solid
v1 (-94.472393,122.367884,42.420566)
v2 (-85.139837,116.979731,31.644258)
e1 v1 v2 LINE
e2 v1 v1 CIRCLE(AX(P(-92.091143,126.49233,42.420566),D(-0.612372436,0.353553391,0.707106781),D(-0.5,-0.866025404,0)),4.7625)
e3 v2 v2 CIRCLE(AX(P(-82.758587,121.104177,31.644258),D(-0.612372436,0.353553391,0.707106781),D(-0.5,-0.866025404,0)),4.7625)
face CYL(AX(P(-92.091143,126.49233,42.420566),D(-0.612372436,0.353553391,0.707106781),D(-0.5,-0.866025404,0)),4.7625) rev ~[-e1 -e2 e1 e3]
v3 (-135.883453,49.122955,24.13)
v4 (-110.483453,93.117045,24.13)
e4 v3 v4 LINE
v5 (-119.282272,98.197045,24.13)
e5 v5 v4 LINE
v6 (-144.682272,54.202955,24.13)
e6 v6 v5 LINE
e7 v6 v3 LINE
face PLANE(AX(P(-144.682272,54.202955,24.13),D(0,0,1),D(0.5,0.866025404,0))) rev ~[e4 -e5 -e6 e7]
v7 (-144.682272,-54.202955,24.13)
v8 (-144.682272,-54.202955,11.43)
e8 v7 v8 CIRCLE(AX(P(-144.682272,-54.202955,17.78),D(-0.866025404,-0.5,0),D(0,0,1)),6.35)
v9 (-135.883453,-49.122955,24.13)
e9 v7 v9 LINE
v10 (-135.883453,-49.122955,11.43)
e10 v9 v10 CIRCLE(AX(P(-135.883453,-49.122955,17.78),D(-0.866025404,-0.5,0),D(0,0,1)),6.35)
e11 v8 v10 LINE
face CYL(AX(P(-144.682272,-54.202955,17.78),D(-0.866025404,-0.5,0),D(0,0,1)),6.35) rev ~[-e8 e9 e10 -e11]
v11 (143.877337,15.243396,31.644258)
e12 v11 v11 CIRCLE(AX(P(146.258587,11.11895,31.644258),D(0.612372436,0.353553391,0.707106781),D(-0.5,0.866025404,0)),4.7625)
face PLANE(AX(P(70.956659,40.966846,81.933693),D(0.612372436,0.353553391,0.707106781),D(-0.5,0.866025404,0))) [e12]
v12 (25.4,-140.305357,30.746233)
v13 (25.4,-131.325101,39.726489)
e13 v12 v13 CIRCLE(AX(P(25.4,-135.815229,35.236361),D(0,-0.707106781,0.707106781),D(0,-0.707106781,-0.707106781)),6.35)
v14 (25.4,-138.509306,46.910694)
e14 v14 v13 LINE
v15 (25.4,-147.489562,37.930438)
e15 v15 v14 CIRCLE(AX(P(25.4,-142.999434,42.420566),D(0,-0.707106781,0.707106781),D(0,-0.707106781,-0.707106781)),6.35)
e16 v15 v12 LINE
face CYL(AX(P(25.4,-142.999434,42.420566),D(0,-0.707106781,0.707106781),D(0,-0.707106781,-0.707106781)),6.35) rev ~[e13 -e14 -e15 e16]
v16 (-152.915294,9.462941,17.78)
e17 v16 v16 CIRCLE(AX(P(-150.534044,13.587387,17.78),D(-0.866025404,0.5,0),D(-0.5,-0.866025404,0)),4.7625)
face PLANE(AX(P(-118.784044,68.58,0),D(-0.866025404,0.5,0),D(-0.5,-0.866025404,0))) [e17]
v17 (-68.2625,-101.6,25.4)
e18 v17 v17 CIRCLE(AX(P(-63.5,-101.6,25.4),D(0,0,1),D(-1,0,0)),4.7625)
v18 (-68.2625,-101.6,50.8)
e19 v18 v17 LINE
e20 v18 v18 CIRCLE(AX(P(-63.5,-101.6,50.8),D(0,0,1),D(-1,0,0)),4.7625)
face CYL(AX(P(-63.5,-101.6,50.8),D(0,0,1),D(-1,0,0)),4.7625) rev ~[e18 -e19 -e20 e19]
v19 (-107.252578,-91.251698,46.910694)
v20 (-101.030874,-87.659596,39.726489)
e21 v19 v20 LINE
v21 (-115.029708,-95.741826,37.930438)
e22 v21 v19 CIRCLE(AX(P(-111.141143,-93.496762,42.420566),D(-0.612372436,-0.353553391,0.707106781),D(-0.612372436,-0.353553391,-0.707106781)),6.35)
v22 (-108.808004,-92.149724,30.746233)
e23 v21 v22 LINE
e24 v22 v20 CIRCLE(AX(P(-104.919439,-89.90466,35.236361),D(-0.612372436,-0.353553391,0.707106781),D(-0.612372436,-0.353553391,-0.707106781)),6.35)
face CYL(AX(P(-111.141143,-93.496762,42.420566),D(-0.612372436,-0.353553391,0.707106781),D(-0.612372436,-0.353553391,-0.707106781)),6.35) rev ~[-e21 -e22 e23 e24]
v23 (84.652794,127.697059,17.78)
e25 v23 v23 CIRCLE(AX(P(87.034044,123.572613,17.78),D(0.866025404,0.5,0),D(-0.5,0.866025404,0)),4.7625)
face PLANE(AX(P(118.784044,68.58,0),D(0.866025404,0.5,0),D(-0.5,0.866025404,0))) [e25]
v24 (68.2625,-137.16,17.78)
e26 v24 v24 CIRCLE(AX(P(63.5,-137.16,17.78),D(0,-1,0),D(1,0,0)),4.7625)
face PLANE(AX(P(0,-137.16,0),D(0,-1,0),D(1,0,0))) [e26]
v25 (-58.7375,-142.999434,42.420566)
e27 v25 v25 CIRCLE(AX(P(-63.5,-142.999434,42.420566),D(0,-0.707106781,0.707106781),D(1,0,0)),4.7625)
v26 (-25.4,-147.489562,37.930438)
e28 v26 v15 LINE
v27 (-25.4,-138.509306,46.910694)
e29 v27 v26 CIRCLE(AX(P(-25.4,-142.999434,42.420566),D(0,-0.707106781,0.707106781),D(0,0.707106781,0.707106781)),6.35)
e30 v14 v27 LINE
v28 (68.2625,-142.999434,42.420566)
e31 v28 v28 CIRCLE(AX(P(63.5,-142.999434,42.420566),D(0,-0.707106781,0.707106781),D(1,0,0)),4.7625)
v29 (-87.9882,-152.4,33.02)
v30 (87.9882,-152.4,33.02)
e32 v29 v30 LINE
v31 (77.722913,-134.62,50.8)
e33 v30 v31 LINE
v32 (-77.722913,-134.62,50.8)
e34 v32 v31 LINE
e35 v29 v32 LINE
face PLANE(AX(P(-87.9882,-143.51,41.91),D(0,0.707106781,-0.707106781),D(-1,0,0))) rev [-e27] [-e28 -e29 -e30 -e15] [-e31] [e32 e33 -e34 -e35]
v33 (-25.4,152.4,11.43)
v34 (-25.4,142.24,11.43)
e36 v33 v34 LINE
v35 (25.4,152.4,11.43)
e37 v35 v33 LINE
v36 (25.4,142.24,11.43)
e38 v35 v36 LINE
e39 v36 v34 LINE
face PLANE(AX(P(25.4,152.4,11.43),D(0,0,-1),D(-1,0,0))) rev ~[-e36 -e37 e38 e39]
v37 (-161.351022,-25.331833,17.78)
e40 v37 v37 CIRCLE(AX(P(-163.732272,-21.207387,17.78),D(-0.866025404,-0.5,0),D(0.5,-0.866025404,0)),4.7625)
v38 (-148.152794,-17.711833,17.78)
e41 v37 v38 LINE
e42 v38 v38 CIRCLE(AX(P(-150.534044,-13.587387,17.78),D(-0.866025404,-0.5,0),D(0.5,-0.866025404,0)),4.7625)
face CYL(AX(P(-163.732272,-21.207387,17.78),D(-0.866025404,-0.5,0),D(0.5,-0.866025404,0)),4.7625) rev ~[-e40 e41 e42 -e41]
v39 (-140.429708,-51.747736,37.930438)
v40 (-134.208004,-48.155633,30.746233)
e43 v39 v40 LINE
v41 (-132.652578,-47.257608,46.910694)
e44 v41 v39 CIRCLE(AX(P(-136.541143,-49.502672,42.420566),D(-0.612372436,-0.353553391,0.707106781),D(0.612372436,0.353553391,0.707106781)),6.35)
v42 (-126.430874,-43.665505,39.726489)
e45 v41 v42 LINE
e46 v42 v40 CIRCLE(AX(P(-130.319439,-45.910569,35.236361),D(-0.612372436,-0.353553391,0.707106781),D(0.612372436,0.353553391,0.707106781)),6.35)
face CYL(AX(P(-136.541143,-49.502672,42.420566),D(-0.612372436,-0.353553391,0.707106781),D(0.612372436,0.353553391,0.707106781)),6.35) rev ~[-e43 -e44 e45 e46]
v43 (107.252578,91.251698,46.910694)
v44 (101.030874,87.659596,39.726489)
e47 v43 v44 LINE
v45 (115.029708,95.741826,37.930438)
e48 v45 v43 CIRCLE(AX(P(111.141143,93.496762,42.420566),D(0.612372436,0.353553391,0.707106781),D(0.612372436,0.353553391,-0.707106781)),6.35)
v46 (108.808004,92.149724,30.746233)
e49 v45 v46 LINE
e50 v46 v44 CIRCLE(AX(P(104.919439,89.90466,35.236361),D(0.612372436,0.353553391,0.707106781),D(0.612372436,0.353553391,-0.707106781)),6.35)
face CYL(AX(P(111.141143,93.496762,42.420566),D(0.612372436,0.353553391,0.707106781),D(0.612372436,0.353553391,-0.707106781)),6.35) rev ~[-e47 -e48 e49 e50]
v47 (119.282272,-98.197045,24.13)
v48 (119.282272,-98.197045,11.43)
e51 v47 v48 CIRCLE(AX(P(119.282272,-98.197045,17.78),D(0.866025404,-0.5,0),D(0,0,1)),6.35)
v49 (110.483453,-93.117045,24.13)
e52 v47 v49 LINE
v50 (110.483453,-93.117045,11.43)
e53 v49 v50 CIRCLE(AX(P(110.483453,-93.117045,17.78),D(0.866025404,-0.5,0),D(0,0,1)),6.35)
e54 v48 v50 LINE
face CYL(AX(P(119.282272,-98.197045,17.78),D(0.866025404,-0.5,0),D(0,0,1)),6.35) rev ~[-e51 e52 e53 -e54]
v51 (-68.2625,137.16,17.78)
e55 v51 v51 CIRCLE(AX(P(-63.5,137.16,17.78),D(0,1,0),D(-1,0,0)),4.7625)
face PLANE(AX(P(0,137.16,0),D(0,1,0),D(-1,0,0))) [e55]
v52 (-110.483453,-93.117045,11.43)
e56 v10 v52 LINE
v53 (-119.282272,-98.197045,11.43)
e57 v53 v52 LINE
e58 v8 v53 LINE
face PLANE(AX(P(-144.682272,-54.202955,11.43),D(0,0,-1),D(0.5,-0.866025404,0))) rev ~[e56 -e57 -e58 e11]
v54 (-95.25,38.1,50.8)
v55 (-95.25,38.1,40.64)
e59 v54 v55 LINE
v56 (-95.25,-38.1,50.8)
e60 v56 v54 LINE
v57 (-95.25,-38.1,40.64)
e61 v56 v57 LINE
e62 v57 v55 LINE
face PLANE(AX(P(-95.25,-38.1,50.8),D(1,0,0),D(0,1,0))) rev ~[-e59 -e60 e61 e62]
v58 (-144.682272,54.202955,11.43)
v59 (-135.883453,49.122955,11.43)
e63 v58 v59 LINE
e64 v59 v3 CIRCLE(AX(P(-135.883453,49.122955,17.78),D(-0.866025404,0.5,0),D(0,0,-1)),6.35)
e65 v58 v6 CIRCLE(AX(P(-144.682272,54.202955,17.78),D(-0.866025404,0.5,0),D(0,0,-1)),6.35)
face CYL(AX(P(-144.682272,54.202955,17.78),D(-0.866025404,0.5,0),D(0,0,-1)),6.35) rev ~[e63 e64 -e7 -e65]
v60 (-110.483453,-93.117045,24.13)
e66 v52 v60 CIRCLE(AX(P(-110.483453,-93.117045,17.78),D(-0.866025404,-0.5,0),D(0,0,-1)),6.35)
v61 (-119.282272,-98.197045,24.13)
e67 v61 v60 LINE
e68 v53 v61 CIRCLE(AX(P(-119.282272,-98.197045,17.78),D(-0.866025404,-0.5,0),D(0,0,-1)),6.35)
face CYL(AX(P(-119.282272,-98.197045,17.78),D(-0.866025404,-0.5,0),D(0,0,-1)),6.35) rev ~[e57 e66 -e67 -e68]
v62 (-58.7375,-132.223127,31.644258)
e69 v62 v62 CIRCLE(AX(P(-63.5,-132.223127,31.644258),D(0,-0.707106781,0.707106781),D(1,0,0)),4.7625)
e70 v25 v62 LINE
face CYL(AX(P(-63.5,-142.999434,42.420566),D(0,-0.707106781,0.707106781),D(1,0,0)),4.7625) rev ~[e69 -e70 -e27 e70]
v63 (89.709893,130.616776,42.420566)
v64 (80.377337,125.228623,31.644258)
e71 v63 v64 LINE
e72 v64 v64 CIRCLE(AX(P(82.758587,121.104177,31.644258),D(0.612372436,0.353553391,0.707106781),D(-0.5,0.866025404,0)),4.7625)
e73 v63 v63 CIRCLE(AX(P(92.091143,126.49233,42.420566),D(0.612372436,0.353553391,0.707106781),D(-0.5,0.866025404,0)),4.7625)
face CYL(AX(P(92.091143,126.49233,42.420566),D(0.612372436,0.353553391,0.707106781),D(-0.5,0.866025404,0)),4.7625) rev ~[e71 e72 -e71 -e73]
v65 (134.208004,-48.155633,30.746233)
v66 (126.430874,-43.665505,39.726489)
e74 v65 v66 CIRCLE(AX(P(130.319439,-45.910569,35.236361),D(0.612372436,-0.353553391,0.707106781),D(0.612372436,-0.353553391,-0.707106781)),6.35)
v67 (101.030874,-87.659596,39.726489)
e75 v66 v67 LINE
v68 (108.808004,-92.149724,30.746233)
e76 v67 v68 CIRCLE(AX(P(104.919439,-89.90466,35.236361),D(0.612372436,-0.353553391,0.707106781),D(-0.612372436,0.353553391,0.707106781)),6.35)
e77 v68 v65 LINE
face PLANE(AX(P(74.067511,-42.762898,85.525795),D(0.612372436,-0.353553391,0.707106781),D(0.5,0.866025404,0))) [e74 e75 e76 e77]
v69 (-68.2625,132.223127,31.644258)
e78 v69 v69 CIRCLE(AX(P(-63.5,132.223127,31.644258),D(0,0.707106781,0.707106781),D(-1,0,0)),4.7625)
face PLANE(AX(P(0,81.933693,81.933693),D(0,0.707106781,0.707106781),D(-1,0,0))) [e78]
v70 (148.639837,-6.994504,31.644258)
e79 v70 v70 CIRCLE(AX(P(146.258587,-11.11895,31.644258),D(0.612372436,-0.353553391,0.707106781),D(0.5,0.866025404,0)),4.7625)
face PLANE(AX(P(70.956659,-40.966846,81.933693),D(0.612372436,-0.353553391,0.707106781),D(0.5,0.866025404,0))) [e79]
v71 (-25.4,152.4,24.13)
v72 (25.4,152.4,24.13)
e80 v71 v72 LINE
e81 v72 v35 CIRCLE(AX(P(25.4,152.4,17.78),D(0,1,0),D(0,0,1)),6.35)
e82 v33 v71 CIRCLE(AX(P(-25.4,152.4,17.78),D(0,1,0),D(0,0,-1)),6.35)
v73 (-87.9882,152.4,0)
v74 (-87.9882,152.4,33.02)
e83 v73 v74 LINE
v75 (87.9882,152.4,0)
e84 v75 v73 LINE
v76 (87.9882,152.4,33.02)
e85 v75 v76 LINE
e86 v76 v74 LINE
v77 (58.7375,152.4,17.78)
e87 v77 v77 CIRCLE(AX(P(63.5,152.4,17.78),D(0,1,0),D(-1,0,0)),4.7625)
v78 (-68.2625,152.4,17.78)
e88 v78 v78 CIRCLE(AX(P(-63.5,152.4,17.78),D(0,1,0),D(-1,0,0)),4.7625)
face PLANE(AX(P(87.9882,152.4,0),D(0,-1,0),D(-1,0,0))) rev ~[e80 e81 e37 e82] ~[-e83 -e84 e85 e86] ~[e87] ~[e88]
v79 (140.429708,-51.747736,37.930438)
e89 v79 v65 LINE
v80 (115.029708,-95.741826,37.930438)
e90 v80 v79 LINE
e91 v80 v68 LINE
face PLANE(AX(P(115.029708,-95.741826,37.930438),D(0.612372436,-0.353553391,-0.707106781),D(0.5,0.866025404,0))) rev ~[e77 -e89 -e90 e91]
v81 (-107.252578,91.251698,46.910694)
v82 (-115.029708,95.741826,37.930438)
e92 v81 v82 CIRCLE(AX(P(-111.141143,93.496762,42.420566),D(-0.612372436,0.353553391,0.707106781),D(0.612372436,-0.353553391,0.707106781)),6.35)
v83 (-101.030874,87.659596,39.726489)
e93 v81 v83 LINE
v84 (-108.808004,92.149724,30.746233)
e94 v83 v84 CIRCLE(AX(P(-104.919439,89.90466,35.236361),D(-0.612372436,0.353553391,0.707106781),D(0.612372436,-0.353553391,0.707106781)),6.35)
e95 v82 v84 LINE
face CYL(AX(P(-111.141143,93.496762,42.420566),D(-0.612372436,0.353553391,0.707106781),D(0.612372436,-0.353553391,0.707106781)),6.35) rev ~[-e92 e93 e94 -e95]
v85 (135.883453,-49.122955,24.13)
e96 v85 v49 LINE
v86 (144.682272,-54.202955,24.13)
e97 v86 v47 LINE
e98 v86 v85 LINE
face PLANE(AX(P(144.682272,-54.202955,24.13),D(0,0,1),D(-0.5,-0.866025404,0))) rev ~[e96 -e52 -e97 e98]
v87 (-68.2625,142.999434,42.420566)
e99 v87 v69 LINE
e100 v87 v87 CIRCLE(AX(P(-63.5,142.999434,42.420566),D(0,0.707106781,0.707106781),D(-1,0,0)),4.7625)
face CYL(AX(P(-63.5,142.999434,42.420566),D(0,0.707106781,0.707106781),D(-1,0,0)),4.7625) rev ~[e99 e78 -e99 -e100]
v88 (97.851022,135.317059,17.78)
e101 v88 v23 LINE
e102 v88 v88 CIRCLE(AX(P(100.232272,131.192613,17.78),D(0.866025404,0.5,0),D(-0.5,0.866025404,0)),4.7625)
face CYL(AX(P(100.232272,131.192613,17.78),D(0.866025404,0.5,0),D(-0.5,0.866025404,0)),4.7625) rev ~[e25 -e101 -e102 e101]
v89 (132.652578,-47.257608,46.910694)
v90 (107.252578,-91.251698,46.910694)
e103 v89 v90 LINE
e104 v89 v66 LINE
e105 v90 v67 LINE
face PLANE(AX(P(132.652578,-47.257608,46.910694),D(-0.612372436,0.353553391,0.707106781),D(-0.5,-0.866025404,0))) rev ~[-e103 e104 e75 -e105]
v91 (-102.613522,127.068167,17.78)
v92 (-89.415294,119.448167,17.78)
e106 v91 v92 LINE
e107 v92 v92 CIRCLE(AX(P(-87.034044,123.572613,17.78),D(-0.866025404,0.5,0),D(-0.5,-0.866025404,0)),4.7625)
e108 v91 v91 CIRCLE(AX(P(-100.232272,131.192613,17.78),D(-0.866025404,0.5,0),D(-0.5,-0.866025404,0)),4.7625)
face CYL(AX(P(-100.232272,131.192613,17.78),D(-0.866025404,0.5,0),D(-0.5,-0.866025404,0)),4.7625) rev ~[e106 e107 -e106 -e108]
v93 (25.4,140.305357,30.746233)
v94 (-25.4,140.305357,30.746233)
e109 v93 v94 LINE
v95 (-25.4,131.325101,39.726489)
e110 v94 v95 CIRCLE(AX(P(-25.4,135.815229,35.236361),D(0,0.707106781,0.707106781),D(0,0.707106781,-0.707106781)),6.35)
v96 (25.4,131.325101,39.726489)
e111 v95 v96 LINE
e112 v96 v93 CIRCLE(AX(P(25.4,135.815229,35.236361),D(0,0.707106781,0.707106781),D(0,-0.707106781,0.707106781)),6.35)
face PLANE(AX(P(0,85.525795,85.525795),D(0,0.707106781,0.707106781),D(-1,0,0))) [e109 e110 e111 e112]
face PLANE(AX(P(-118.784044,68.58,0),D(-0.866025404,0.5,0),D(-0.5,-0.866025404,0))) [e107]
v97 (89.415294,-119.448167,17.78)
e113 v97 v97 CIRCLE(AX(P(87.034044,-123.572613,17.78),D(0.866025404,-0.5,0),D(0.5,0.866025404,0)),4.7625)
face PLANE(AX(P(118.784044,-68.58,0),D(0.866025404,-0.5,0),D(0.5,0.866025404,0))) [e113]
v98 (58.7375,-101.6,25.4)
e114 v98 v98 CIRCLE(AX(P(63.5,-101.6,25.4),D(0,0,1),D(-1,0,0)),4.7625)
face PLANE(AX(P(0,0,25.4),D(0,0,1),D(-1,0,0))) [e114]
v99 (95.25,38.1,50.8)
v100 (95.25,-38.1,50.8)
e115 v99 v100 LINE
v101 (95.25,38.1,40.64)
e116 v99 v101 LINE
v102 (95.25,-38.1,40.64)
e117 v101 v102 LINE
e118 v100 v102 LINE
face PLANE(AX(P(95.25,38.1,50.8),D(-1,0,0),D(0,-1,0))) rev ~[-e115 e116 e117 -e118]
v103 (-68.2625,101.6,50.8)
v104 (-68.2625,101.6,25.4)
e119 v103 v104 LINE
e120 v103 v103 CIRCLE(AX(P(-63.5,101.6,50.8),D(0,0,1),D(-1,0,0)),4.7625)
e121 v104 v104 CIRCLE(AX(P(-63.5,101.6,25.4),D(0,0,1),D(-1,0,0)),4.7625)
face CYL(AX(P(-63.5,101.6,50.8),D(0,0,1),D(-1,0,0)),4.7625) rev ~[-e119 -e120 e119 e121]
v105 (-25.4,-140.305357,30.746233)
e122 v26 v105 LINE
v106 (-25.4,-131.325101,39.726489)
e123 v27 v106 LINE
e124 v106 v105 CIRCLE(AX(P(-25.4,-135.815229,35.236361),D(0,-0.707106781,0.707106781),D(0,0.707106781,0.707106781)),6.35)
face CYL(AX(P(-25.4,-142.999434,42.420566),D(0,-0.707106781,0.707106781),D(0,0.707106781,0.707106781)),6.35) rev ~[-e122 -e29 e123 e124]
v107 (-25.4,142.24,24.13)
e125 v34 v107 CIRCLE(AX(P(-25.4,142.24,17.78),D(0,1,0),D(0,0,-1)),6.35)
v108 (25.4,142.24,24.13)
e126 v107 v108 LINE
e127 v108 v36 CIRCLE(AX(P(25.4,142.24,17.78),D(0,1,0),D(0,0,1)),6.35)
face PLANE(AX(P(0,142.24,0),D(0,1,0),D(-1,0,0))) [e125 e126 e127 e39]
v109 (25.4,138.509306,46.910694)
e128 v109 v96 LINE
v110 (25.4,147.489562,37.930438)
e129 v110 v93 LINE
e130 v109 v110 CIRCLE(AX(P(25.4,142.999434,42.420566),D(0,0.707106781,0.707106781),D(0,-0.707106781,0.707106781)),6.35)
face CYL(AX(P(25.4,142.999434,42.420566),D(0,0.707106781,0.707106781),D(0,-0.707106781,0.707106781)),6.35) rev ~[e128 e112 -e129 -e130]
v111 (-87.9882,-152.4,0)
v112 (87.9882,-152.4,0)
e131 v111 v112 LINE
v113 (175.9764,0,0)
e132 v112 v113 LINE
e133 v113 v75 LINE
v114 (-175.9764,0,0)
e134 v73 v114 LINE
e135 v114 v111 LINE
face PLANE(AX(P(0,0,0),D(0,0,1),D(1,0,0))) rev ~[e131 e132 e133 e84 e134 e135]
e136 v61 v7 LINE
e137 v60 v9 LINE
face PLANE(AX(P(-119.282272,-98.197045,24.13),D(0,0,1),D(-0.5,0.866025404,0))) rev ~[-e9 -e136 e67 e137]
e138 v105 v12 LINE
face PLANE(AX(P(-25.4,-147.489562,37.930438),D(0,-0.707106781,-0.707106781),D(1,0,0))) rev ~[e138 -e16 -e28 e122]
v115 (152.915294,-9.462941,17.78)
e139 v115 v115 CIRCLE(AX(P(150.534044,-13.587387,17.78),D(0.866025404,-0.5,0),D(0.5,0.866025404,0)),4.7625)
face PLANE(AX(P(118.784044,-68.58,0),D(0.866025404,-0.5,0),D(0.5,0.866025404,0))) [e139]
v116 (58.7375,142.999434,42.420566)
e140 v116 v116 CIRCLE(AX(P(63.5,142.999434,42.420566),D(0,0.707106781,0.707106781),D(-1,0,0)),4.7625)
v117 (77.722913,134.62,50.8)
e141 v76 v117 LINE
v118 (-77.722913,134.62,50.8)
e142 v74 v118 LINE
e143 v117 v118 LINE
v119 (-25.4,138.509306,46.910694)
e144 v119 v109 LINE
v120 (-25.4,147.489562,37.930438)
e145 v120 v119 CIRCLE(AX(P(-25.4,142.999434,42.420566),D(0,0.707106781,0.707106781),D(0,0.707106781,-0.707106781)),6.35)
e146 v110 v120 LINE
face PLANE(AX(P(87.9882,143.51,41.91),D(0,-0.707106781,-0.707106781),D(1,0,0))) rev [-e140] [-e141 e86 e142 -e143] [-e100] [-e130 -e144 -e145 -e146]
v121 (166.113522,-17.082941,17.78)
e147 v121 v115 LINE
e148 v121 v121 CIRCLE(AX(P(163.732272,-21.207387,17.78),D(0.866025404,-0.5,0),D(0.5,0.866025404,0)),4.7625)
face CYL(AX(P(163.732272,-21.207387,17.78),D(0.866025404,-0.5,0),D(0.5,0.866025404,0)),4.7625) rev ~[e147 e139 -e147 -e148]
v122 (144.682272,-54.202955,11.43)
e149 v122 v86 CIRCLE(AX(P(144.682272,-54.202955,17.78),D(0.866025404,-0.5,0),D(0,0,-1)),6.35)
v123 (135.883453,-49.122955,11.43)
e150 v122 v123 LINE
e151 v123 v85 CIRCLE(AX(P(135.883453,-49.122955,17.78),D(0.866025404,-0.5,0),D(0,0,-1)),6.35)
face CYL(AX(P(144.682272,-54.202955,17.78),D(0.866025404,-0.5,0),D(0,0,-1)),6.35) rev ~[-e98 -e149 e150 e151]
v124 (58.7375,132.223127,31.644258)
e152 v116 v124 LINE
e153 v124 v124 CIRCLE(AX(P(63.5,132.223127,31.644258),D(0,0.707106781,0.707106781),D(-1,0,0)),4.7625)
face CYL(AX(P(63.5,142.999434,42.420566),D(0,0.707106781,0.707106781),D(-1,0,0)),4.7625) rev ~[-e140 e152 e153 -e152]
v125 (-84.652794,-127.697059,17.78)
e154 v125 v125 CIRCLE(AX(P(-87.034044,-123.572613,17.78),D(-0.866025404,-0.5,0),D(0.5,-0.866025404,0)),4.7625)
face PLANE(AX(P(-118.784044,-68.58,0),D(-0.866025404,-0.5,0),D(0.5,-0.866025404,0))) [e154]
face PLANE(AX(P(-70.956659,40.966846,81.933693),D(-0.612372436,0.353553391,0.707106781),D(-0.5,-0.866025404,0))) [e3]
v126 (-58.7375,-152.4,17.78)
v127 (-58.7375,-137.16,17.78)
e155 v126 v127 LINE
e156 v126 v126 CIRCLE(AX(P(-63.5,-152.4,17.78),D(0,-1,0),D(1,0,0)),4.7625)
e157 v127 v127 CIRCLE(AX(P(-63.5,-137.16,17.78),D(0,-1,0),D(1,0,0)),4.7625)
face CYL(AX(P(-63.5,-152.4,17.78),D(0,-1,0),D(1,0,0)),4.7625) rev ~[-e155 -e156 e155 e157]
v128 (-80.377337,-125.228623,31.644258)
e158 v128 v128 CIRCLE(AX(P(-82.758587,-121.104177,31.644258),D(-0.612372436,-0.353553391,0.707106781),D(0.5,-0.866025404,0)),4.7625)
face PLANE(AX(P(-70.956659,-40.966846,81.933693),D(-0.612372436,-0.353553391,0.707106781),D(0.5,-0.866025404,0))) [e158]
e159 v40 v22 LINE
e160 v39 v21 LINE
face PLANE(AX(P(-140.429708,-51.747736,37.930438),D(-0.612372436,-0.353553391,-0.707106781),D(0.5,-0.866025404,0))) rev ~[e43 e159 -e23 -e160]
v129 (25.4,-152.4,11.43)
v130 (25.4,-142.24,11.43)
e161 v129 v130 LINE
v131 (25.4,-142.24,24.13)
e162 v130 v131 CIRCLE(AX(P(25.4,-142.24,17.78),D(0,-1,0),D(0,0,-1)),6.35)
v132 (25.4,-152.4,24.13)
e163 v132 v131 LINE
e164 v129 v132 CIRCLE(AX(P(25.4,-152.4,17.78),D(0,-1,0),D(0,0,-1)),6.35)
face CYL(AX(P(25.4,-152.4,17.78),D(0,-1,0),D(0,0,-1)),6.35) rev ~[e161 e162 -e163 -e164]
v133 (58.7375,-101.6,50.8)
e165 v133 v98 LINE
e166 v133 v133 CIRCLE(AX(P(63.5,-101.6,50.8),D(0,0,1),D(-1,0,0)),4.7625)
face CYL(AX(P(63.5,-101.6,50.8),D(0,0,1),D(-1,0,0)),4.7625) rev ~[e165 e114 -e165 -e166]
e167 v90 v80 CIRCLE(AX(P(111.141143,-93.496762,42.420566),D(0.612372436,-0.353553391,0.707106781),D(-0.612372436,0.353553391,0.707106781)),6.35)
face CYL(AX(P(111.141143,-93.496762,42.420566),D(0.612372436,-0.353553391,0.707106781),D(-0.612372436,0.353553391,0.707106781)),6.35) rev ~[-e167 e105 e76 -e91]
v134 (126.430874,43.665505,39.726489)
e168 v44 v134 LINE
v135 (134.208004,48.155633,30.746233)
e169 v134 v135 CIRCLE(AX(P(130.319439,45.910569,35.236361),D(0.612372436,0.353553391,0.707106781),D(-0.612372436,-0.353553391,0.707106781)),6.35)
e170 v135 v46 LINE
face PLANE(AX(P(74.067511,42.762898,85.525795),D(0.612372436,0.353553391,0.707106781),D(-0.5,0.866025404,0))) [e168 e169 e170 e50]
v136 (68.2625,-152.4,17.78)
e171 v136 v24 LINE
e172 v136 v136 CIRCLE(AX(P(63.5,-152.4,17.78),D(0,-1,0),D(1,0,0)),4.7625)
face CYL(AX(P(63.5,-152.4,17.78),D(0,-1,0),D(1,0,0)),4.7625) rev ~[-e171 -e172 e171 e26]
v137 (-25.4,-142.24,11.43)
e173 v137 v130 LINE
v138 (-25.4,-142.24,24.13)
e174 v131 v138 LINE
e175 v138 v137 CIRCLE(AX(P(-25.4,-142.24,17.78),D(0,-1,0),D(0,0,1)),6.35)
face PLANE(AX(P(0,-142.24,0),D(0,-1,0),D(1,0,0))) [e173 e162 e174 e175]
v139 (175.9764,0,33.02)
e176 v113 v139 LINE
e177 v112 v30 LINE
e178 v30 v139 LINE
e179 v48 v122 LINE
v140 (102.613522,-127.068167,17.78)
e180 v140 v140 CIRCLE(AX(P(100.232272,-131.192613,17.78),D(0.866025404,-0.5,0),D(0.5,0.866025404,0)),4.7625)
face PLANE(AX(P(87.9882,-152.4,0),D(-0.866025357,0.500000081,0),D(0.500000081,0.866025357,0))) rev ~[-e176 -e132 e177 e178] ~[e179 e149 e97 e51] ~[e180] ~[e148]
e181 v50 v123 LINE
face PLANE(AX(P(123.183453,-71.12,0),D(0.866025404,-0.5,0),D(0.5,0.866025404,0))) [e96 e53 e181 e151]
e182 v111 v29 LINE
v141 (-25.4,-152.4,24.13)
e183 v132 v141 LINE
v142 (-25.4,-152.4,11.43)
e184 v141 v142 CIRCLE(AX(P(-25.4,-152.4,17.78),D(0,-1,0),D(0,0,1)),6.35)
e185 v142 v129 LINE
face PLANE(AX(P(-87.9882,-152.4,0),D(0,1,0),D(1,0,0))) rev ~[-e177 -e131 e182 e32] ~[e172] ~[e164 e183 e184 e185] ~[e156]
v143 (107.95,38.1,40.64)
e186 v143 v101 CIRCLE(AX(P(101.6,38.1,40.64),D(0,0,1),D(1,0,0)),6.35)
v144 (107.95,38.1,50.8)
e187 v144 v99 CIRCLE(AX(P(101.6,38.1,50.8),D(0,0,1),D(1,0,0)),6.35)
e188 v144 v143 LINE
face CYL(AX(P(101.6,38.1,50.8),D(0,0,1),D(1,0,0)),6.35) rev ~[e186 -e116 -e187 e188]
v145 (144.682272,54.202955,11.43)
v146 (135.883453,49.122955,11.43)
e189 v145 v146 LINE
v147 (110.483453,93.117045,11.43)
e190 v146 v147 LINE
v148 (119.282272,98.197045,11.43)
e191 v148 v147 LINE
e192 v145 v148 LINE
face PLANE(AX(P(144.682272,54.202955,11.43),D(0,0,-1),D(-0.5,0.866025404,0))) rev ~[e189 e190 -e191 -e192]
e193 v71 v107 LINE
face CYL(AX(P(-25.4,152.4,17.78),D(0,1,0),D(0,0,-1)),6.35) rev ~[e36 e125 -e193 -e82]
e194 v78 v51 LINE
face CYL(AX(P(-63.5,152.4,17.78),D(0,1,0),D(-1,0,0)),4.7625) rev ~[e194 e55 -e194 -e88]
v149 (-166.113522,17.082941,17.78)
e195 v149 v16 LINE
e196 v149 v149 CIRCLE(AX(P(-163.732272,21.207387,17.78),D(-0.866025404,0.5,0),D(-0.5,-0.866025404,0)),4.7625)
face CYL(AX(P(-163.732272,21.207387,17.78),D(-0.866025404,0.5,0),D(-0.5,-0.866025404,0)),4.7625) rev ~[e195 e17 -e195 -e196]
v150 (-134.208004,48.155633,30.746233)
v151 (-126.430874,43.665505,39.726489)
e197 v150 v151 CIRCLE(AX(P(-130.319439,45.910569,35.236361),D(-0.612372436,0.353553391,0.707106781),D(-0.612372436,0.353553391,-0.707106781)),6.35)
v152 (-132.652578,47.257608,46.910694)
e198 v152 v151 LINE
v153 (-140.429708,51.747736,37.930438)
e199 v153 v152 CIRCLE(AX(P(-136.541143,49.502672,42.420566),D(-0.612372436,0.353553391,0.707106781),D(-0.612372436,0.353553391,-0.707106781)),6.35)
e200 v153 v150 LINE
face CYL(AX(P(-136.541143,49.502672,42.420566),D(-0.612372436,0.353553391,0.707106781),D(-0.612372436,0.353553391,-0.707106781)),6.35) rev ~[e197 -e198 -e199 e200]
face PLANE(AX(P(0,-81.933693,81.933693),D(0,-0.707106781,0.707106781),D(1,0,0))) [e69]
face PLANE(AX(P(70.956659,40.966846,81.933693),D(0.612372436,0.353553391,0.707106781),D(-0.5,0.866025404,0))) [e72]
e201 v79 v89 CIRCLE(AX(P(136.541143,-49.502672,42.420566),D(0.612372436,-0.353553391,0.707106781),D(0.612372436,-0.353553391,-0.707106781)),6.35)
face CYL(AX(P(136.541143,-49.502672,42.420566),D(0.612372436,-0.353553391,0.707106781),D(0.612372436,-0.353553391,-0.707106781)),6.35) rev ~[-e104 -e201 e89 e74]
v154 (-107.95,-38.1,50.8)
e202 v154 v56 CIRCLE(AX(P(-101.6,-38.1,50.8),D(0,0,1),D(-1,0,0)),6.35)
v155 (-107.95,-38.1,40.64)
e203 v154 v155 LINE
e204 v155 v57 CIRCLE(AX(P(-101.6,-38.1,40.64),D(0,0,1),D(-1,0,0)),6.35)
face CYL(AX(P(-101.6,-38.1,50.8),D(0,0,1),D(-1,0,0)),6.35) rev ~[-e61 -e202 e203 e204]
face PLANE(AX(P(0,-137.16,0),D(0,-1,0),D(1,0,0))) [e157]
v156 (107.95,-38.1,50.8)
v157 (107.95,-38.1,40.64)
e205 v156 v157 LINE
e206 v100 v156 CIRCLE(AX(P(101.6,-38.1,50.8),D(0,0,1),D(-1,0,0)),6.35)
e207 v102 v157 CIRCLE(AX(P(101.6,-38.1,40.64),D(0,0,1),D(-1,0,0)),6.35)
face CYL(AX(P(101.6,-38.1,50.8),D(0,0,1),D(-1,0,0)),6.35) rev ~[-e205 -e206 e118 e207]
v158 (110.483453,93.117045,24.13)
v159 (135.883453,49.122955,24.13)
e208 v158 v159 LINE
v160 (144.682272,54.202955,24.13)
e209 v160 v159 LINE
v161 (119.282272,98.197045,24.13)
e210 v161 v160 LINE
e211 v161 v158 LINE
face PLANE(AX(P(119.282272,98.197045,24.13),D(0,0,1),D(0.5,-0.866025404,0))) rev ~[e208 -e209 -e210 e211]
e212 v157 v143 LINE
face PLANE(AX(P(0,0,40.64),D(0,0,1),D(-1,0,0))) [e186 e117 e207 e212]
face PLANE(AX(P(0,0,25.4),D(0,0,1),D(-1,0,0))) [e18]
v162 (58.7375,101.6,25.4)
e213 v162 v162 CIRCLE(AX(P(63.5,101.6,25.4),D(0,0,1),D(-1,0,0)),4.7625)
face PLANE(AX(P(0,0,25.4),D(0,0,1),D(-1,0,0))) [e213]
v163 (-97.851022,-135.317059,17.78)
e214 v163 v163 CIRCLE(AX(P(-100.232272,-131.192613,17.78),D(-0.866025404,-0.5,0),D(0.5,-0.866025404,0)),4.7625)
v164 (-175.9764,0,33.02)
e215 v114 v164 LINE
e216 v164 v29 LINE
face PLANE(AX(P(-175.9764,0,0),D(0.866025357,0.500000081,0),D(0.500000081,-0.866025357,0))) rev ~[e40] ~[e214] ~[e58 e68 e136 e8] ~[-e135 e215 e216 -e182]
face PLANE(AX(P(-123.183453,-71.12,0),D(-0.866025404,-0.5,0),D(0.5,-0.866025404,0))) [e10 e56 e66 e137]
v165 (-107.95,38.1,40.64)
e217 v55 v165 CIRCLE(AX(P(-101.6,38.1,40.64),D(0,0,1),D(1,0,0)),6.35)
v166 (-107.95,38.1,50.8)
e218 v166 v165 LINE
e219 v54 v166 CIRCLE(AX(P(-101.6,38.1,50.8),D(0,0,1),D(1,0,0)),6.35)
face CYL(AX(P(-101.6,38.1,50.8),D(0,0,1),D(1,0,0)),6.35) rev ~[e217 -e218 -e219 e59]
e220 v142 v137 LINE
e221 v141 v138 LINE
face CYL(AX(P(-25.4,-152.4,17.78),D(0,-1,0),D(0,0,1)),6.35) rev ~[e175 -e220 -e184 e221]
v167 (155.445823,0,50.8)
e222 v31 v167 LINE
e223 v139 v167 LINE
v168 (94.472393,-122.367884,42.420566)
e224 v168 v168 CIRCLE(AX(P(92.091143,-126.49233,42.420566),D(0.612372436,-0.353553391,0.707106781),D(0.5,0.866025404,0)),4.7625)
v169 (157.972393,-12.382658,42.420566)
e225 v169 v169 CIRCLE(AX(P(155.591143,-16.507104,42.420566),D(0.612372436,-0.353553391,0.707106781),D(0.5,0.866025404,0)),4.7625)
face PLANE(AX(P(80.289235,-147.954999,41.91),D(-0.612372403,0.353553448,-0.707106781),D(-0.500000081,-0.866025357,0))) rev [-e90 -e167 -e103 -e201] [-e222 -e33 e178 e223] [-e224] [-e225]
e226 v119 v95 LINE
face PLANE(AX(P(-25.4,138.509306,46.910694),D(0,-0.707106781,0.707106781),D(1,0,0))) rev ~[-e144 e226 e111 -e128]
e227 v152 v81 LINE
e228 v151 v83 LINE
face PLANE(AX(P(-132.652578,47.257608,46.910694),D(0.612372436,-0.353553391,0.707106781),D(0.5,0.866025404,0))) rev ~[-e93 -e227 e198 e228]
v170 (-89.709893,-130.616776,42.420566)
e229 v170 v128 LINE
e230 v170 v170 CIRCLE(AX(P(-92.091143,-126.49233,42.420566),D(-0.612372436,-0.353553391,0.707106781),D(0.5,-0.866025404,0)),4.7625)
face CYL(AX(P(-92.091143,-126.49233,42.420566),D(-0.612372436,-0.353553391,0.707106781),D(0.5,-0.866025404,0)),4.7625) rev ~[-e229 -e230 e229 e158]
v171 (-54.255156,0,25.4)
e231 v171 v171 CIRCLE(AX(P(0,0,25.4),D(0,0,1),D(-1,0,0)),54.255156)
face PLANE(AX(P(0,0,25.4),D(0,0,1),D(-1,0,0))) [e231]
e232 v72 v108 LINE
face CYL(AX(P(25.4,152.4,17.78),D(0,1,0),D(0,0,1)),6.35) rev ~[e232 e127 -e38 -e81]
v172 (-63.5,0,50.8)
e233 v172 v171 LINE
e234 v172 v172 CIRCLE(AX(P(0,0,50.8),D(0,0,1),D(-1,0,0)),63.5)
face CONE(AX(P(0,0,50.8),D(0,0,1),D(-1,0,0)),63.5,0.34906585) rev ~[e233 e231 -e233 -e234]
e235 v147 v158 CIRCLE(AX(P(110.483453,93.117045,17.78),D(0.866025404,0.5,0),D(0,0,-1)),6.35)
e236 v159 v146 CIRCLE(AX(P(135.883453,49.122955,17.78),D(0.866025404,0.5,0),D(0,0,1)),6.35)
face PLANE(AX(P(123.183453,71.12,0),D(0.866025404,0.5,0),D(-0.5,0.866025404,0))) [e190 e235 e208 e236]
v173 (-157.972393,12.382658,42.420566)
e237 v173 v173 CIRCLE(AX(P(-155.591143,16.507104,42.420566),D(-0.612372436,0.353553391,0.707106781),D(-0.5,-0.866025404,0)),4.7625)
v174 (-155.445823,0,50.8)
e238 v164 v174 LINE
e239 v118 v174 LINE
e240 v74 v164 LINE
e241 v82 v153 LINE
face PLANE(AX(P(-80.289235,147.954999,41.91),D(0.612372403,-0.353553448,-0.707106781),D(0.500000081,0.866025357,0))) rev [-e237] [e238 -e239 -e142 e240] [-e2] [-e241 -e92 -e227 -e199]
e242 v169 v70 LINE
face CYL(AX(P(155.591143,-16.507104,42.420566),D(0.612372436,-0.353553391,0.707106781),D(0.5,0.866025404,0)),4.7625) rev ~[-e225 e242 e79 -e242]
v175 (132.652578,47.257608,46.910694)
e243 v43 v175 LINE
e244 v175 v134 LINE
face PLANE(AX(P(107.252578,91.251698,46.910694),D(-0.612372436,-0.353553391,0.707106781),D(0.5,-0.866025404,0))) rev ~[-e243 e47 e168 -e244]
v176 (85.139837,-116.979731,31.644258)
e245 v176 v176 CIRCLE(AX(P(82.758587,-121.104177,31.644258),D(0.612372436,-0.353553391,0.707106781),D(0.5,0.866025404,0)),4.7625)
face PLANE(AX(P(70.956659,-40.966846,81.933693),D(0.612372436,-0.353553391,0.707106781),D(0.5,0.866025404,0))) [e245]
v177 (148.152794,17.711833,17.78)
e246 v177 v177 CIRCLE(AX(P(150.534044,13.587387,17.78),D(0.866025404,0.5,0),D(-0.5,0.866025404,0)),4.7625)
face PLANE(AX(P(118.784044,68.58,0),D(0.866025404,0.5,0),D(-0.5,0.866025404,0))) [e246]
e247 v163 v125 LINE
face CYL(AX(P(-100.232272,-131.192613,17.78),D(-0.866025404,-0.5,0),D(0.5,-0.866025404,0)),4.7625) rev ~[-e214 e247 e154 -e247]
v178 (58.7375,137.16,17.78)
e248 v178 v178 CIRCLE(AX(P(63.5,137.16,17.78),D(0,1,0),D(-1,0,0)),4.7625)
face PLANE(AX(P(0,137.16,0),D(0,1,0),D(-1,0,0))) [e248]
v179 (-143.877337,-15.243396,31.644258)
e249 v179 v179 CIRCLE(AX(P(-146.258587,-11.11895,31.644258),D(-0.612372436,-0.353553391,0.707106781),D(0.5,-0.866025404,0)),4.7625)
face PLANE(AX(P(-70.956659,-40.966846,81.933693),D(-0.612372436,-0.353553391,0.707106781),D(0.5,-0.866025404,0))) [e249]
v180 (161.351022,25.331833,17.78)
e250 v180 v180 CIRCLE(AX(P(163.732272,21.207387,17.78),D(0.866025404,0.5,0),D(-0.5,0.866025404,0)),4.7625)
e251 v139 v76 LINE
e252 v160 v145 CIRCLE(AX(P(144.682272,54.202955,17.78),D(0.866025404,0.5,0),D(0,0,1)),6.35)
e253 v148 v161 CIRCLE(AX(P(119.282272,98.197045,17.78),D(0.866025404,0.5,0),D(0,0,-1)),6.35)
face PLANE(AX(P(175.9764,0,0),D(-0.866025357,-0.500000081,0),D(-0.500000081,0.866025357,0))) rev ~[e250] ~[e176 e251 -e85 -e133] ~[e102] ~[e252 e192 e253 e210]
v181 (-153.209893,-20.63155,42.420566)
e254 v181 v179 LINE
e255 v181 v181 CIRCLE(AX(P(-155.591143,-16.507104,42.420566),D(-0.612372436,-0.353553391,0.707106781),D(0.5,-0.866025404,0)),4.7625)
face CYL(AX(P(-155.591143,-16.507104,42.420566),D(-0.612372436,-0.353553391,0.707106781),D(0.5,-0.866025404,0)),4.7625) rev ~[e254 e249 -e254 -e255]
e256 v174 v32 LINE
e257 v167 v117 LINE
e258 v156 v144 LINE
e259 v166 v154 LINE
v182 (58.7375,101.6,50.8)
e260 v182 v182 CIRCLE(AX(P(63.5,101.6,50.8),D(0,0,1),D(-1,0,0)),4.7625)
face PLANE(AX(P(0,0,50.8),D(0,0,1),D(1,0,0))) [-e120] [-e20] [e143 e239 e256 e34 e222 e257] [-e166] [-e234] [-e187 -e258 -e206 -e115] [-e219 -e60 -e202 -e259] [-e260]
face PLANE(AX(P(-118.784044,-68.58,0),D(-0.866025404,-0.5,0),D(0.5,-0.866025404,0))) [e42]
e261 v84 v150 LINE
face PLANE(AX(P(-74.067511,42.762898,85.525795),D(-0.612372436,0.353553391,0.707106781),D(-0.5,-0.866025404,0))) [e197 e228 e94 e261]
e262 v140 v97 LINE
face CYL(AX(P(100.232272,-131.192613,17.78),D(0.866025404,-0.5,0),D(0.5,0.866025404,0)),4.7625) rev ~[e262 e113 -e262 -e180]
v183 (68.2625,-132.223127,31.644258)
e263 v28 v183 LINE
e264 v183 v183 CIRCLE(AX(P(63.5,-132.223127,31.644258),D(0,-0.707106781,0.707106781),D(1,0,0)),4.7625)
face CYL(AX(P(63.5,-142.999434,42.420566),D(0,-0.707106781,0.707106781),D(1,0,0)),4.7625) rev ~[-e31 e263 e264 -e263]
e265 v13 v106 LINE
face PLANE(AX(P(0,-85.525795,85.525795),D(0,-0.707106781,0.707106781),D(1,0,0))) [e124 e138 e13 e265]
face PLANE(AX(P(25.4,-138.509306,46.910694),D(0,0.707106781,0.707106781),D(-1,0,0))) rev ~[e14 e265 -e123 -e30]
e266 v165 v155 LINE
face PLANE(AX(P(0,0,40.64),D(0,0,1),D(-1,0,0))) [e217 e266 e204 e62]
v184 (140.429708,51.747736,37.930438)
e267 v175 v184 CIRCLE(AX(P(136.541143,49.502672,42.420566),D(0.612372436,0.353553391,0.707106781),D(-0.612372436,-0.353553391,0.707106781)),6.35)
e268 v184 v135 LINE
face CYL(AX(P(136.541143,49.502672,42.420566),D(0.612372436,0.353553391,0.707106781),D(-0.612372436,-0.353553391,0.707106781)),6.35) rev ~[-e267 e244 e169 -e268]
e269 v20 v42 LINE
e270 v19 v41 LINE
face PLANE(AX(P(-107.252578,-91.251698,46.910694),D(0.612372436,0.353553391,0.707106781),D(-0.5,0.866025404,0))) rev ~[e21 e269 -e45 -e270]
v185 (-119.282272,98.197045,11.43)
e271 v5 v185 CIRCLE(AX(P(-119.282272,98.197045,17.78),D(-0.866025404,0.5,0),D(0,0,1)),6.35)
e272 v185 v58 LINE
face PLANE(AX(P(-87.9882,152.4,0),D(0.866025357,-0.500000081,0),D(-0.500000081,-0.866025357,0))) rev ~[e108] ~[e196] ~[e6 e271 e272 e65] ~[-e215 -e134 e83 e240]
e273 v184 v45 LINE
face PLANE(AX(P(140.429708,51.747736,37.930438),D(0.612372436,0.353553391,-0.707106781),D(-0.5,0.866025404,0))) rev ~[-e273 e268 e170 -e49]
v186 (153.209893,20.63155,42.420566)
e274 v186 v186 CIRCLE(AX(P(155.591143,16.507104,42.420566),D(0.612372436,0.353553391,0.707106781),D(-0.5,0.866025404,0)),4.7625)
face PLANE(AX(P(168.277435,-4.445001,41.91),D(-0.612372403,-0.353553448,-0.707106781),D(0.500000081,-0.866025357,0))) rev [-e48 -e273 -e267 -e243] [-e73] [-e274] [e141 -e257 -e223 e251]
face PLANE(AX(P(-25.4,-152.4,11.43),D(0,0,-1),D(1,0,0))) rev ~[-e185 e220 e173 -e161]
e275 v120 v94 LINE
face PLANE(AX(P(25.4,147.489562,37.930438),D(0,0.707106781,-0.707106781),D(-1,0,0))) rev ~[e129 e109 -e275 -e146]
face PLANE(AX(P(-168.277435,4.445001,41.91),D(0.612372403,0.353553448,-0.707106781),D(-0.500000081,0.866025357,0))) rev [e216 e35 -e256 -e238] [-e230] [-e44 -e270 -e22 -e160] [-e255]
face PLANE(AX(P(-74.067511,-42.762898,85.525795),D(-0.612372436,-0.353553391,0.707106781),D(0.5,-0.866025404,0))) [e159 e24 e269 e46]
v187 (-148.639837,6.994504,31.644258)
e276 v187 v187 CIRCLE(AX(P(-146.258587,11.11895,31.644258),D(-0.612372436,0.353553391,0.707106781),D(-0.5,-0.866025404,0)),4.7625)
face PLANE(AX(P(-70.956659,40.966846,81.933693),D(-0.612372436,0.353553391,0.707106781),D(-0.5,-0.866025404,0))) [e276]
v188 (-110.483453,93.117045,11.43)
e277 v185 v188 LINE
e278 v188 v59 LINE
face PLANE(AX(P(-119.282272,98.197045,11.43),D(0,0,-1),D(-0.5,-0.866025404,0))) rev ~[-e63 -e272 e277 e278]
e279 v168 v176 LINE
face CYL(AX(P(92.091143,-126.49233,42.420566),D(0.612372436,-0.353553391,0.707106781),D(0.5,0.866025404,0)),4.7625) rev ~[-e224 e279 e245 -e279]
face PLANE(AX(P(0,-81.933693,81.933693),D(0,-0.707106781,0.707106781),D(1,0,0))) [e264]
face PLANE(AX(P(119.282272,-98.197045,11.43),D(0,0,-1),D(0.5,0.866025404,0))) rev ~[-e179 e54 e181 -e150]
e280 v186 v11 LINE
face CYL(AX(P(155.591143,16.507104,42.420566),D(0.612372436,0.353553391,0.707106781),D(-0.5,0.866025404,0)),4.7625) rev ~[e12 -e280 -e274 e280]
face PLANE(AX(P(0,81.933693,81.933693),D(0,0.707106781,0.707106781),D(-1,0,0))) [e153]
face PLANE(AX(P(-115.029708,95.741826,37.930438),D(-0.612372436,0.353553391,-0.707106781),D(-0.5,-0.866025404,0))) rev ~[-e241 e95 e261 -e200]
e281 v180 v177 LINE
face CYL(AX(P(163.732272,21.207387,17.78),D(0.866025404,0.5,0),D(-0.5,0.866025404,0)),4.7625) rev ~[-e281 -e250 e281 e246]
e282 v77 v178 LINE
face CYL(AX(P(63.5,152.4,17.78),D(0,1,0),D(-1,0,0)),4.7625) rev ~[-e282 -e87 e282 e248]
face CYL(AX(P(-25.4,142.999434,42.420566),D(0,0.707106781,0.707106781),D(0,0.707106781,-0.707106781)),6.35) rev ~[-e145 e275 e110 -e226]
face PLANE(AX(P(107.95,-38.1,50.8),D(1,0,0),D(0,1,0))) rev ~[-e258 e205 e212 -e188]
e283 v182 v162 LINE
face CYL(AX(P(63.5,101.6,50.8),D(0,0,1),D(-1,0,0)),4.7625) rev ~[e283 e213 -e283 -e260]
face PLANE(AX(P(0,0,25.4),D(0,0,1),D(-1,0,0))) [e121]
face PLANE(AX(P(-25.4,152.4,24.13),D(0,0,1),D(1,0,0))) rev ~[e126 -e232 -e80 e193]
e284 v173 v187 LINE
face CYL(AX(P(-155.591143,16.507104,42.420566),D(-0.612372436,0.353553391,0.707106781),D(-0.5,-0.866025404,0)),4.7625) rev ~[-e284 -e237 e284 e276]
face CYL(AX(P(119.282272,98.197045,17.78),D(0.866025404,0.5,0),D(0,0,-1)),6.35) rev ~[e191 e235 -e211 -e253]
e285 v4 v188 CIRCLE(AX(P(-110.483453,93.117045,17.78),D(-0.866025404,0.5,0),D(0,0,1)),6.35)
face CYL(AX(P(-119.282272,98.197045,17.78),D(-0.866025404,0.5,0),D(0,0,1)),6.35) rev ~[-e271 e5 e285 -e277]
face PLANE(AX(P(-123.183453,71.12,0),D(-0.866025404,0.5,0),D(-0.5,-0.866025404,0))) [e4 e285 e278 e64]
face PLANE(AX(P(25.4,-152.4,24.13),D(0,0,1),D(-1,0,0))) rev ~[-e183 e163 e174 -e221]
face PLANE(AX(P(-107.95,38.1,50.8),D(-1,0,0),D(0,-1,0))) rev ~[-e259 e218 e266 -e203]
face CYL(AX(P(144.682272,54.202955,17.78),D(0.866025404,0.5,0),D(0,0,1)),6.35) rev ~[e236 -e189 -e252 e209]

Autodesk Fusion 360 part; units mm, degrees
sketch "Sketch2" plane through (0, 0, 0) normal (0, 0, 1) x (1, 0, 0)
  line L0 (-87.9882, 152.4) -> (-175.9764, 0)
  line L1 (-175.9764, 0) -> (-87.9882, -152.4)
  line L2 (-87.9882, -152.4) -> (87.9882, -152.4)
  line L3 (87.9882, -152.4) -> (175.9764, 0)
  line L4 (175.9764, 0) -> (87.9882, 152.4)
  line L5 (87.9882, 152.4) -> (-87.9882, 152.4)
  dimension "d3" = 152.4
extrude "Extrude1" add sketch "Sketch2" along normal blind 50.8
chamfer "Chamfer1" distance 17.78 angle 45 6 edges at (131.9823, -76.2, 50.8) (0, -152.4, 50.8) (-131.9823, -76.2, 50.8) (-131.9823, 76.2, 50.8) (0, 152.4, 50.8) (131.9823, 76.2, 50.8)
sketch "Sketch3" plane through (0, 0, 50.8) normal (0, 0, 1) x (-1, 0, 0)
  line L0 (77.7229, -134.62) -> (155.4458, 0)
  line L1 (155.4458, 0) -> (77.7229, 134.62)
  line L2 (77.7229, 134.62) -> (-77.7229, 134.62)
  line L3 (-77.7229, 134.62) -> (-155.4458, 0)
  line L4 (-155.4458, 0) -> (-77.7229, -134.62)
  line L5 (-77.7229, -134.62) -> (77.7229, -134.62)
  circle A0 centre (0, 0) radius 63.5
extrude "Extrude2" cut sketch "Sketch3" against normal blind 25.4 draft -20 contours A0
sketch "Sketch4" plane through (0, -152.4, 0) normal (0, -1, 0) x (1, 0, 0)
  line L0 (87.9882, 33.02) -> (-87.9882, 33.02)
  line L1 (-87.9882, 33.02) -> (-87.9882, 0)
  line L2 (-87.9882, 0) -> (87.9882, 0)
  line L3 (87.9882, 0) -> (87.9882, 33.02)
  line L4 (-25.4, 11.43) -> (25.4, 11.43)
  arc A0 (25.4, 11.43) -> (25.4, 24.13) centre (25.4, 17.78) ccw
  line L5 (25.4, 24.13) -> (-25.4, 24.13)
  arc A1 (-25.4, 24.13) -> (-25.4, 11.43) centre (-25.4, 17.78) ccw
  line L6 (-25.4, 17.78) -> (25.4, 17.78) construction
  circle A2 centre (-63.5, 17.78) radius 4.7625
  circle A3 centre (63.5, 17.78) radius 4.7625
  dimension "d11" = 175.9764
  dimension "d12" = 12.7
  dimension "d13" = 9.525
  dimension "d14" = 9.525
sketch "Sketch5" plane through (0, -92.71, 92.71) normal (0, -0.7071, 0.7071) x (1, 0, 0)
  line L0 (-87.9882, -84.4144) -> (87.9882, -84.4144)
  line L1 (87.9882, -84.4144) -> (77.7229, -59.2697)
  line L2 (77.7229, -59.2697) -> (-77.7229, -59.2697)
  line L3 (-77.7229, -59.2697) -> (-87.9882, -84.4144)
  line L4 (-25.4, -77.47) -> (25.4, -77.47)
  arc A0 (25.4, -77.47) -> (25.4, -64.77) centre (25.4, -71.12) ccw
  line L5 (25.4, -64.77) -> (-25.4, -64.77)
  arc A1 (-25.4, -64.77) -> (-25.4, -77.47) centre (-25.4, -71.12) ccw
  line L6 (-25.4, -71.12) -> (25.4, -71.12) construction
  circle A2 centre (-63.5, -71.12) radius 4.7625
  circle A3 centre (63.5, -71.12) radius 4.7625
  dimension "d15" = 12.7
  dimension "d16" = 9.525
  dimension "d17" = 9.525
extrude "Extrude3" cut sketch "Sketch5" against normal blind 15.24 contours A2
extrude "Extrude4" cut sketch "Sketch5" against normal blind 15.24 contours A3
extrude "Extrude5" cut sketch "Sketch5" against normal blind 10.16 contours L4 A0 L5 A1
extrude "Extrude6" cut sketch "Sketch4" against normal blind 15.24 contours A2
extrude "Extrude7" cut sketch "Sketch4" against normal blind 10.16 contours L4 A0 L5 A1
extrude "Extrude8" cut sketch "Sketch4" against normal blind 15.24 contours A3
pattern_circular "C-Pattern1" count 6 over 360 about axis through (0, 0, 50.8) along (0, 0, -1) of "Extrude5", "Extrude3", "Extrude4", "Extrude8", "Extrude7", "Extrude6"
sketch "Sketch6" plane through (0, 0, 50.8) normal (0, 0, 1) x (-1, 0, 0)
  circle A0 centre (0, 0) radius 63.5
  line L0 (77.7229, -134.62) -> (155.4458, 0)
  line L1 (155.4458, 0) -> (77.7229, 134.62)
  line L2 (77.7229, 134.62) -> (-77.7229, 134.62)
  line L3 (-77.7229, 134.62) -> (-155.4458, 0)
  line L4 (-155.4458, 0) -> (-77.7229, -134.62)
  line L5 (-77.7229, -134.62) -> (77.7229, -134.62)
  circle A1 centre (63.5, -101.6) radius 4.7625
  circle A2 centre (-63.5, -101.6) radius 4.7625
  circle A3 centre (63.5, 101.6) radius 4.7625
  circle A4 centre (-63.5, 101.6) radius 4.7625
  line L6 (107.95, -38.1) -> (107.95, 38.1)
  arc A5 (107.95, 38.1) -> (95.25, 38.1) centre (101.6, 38.1) ccw
  line L7 (95.25, 38.1) -> (95.25, -38.1)
  arc A6 (95.25, -38.1) -> (107.95, -38.1) centre (101.6, -38.1) ccw
  line L8 (101.6, -38.1) -> (101.6, 38.1) construction
  line L9 (-95.25, -38.1) -> (-95.25, 38.1)
  arc A7 (-95.25, 38.1) -> (-107.95, 38.1) centre (-101.6, 38.1) ccw
  line L10 (-107.95, 38.1) -> (-107.95, -38.1)
  arc A8 (-107.95, -38.1) -> (-95.25, -38.1) centre (-101.6, -38.1) ccw
  line L11 (-101.6, -38.1) -> (-101.6, 38.1) construction
  dimension "d32" = 9.525
  dimension "d33" = 9.525
  dimension "d34" = 9.525
  dimension "d35" = 9.525
  dimension "d38" = 12.7
  dimension "d39" = 12.7
extrude "Extrude9" cut sketch "Sketch6" against normal blind 25.4 contours A1 | A2 | A3 | A4
extrude "Extrude10" cut sketch "Sketch6" against normal blind 10.16 contours L6 A5 L7 A6 | L9 A7 L10 A8
equation "Cone_Taper = 20 in"
